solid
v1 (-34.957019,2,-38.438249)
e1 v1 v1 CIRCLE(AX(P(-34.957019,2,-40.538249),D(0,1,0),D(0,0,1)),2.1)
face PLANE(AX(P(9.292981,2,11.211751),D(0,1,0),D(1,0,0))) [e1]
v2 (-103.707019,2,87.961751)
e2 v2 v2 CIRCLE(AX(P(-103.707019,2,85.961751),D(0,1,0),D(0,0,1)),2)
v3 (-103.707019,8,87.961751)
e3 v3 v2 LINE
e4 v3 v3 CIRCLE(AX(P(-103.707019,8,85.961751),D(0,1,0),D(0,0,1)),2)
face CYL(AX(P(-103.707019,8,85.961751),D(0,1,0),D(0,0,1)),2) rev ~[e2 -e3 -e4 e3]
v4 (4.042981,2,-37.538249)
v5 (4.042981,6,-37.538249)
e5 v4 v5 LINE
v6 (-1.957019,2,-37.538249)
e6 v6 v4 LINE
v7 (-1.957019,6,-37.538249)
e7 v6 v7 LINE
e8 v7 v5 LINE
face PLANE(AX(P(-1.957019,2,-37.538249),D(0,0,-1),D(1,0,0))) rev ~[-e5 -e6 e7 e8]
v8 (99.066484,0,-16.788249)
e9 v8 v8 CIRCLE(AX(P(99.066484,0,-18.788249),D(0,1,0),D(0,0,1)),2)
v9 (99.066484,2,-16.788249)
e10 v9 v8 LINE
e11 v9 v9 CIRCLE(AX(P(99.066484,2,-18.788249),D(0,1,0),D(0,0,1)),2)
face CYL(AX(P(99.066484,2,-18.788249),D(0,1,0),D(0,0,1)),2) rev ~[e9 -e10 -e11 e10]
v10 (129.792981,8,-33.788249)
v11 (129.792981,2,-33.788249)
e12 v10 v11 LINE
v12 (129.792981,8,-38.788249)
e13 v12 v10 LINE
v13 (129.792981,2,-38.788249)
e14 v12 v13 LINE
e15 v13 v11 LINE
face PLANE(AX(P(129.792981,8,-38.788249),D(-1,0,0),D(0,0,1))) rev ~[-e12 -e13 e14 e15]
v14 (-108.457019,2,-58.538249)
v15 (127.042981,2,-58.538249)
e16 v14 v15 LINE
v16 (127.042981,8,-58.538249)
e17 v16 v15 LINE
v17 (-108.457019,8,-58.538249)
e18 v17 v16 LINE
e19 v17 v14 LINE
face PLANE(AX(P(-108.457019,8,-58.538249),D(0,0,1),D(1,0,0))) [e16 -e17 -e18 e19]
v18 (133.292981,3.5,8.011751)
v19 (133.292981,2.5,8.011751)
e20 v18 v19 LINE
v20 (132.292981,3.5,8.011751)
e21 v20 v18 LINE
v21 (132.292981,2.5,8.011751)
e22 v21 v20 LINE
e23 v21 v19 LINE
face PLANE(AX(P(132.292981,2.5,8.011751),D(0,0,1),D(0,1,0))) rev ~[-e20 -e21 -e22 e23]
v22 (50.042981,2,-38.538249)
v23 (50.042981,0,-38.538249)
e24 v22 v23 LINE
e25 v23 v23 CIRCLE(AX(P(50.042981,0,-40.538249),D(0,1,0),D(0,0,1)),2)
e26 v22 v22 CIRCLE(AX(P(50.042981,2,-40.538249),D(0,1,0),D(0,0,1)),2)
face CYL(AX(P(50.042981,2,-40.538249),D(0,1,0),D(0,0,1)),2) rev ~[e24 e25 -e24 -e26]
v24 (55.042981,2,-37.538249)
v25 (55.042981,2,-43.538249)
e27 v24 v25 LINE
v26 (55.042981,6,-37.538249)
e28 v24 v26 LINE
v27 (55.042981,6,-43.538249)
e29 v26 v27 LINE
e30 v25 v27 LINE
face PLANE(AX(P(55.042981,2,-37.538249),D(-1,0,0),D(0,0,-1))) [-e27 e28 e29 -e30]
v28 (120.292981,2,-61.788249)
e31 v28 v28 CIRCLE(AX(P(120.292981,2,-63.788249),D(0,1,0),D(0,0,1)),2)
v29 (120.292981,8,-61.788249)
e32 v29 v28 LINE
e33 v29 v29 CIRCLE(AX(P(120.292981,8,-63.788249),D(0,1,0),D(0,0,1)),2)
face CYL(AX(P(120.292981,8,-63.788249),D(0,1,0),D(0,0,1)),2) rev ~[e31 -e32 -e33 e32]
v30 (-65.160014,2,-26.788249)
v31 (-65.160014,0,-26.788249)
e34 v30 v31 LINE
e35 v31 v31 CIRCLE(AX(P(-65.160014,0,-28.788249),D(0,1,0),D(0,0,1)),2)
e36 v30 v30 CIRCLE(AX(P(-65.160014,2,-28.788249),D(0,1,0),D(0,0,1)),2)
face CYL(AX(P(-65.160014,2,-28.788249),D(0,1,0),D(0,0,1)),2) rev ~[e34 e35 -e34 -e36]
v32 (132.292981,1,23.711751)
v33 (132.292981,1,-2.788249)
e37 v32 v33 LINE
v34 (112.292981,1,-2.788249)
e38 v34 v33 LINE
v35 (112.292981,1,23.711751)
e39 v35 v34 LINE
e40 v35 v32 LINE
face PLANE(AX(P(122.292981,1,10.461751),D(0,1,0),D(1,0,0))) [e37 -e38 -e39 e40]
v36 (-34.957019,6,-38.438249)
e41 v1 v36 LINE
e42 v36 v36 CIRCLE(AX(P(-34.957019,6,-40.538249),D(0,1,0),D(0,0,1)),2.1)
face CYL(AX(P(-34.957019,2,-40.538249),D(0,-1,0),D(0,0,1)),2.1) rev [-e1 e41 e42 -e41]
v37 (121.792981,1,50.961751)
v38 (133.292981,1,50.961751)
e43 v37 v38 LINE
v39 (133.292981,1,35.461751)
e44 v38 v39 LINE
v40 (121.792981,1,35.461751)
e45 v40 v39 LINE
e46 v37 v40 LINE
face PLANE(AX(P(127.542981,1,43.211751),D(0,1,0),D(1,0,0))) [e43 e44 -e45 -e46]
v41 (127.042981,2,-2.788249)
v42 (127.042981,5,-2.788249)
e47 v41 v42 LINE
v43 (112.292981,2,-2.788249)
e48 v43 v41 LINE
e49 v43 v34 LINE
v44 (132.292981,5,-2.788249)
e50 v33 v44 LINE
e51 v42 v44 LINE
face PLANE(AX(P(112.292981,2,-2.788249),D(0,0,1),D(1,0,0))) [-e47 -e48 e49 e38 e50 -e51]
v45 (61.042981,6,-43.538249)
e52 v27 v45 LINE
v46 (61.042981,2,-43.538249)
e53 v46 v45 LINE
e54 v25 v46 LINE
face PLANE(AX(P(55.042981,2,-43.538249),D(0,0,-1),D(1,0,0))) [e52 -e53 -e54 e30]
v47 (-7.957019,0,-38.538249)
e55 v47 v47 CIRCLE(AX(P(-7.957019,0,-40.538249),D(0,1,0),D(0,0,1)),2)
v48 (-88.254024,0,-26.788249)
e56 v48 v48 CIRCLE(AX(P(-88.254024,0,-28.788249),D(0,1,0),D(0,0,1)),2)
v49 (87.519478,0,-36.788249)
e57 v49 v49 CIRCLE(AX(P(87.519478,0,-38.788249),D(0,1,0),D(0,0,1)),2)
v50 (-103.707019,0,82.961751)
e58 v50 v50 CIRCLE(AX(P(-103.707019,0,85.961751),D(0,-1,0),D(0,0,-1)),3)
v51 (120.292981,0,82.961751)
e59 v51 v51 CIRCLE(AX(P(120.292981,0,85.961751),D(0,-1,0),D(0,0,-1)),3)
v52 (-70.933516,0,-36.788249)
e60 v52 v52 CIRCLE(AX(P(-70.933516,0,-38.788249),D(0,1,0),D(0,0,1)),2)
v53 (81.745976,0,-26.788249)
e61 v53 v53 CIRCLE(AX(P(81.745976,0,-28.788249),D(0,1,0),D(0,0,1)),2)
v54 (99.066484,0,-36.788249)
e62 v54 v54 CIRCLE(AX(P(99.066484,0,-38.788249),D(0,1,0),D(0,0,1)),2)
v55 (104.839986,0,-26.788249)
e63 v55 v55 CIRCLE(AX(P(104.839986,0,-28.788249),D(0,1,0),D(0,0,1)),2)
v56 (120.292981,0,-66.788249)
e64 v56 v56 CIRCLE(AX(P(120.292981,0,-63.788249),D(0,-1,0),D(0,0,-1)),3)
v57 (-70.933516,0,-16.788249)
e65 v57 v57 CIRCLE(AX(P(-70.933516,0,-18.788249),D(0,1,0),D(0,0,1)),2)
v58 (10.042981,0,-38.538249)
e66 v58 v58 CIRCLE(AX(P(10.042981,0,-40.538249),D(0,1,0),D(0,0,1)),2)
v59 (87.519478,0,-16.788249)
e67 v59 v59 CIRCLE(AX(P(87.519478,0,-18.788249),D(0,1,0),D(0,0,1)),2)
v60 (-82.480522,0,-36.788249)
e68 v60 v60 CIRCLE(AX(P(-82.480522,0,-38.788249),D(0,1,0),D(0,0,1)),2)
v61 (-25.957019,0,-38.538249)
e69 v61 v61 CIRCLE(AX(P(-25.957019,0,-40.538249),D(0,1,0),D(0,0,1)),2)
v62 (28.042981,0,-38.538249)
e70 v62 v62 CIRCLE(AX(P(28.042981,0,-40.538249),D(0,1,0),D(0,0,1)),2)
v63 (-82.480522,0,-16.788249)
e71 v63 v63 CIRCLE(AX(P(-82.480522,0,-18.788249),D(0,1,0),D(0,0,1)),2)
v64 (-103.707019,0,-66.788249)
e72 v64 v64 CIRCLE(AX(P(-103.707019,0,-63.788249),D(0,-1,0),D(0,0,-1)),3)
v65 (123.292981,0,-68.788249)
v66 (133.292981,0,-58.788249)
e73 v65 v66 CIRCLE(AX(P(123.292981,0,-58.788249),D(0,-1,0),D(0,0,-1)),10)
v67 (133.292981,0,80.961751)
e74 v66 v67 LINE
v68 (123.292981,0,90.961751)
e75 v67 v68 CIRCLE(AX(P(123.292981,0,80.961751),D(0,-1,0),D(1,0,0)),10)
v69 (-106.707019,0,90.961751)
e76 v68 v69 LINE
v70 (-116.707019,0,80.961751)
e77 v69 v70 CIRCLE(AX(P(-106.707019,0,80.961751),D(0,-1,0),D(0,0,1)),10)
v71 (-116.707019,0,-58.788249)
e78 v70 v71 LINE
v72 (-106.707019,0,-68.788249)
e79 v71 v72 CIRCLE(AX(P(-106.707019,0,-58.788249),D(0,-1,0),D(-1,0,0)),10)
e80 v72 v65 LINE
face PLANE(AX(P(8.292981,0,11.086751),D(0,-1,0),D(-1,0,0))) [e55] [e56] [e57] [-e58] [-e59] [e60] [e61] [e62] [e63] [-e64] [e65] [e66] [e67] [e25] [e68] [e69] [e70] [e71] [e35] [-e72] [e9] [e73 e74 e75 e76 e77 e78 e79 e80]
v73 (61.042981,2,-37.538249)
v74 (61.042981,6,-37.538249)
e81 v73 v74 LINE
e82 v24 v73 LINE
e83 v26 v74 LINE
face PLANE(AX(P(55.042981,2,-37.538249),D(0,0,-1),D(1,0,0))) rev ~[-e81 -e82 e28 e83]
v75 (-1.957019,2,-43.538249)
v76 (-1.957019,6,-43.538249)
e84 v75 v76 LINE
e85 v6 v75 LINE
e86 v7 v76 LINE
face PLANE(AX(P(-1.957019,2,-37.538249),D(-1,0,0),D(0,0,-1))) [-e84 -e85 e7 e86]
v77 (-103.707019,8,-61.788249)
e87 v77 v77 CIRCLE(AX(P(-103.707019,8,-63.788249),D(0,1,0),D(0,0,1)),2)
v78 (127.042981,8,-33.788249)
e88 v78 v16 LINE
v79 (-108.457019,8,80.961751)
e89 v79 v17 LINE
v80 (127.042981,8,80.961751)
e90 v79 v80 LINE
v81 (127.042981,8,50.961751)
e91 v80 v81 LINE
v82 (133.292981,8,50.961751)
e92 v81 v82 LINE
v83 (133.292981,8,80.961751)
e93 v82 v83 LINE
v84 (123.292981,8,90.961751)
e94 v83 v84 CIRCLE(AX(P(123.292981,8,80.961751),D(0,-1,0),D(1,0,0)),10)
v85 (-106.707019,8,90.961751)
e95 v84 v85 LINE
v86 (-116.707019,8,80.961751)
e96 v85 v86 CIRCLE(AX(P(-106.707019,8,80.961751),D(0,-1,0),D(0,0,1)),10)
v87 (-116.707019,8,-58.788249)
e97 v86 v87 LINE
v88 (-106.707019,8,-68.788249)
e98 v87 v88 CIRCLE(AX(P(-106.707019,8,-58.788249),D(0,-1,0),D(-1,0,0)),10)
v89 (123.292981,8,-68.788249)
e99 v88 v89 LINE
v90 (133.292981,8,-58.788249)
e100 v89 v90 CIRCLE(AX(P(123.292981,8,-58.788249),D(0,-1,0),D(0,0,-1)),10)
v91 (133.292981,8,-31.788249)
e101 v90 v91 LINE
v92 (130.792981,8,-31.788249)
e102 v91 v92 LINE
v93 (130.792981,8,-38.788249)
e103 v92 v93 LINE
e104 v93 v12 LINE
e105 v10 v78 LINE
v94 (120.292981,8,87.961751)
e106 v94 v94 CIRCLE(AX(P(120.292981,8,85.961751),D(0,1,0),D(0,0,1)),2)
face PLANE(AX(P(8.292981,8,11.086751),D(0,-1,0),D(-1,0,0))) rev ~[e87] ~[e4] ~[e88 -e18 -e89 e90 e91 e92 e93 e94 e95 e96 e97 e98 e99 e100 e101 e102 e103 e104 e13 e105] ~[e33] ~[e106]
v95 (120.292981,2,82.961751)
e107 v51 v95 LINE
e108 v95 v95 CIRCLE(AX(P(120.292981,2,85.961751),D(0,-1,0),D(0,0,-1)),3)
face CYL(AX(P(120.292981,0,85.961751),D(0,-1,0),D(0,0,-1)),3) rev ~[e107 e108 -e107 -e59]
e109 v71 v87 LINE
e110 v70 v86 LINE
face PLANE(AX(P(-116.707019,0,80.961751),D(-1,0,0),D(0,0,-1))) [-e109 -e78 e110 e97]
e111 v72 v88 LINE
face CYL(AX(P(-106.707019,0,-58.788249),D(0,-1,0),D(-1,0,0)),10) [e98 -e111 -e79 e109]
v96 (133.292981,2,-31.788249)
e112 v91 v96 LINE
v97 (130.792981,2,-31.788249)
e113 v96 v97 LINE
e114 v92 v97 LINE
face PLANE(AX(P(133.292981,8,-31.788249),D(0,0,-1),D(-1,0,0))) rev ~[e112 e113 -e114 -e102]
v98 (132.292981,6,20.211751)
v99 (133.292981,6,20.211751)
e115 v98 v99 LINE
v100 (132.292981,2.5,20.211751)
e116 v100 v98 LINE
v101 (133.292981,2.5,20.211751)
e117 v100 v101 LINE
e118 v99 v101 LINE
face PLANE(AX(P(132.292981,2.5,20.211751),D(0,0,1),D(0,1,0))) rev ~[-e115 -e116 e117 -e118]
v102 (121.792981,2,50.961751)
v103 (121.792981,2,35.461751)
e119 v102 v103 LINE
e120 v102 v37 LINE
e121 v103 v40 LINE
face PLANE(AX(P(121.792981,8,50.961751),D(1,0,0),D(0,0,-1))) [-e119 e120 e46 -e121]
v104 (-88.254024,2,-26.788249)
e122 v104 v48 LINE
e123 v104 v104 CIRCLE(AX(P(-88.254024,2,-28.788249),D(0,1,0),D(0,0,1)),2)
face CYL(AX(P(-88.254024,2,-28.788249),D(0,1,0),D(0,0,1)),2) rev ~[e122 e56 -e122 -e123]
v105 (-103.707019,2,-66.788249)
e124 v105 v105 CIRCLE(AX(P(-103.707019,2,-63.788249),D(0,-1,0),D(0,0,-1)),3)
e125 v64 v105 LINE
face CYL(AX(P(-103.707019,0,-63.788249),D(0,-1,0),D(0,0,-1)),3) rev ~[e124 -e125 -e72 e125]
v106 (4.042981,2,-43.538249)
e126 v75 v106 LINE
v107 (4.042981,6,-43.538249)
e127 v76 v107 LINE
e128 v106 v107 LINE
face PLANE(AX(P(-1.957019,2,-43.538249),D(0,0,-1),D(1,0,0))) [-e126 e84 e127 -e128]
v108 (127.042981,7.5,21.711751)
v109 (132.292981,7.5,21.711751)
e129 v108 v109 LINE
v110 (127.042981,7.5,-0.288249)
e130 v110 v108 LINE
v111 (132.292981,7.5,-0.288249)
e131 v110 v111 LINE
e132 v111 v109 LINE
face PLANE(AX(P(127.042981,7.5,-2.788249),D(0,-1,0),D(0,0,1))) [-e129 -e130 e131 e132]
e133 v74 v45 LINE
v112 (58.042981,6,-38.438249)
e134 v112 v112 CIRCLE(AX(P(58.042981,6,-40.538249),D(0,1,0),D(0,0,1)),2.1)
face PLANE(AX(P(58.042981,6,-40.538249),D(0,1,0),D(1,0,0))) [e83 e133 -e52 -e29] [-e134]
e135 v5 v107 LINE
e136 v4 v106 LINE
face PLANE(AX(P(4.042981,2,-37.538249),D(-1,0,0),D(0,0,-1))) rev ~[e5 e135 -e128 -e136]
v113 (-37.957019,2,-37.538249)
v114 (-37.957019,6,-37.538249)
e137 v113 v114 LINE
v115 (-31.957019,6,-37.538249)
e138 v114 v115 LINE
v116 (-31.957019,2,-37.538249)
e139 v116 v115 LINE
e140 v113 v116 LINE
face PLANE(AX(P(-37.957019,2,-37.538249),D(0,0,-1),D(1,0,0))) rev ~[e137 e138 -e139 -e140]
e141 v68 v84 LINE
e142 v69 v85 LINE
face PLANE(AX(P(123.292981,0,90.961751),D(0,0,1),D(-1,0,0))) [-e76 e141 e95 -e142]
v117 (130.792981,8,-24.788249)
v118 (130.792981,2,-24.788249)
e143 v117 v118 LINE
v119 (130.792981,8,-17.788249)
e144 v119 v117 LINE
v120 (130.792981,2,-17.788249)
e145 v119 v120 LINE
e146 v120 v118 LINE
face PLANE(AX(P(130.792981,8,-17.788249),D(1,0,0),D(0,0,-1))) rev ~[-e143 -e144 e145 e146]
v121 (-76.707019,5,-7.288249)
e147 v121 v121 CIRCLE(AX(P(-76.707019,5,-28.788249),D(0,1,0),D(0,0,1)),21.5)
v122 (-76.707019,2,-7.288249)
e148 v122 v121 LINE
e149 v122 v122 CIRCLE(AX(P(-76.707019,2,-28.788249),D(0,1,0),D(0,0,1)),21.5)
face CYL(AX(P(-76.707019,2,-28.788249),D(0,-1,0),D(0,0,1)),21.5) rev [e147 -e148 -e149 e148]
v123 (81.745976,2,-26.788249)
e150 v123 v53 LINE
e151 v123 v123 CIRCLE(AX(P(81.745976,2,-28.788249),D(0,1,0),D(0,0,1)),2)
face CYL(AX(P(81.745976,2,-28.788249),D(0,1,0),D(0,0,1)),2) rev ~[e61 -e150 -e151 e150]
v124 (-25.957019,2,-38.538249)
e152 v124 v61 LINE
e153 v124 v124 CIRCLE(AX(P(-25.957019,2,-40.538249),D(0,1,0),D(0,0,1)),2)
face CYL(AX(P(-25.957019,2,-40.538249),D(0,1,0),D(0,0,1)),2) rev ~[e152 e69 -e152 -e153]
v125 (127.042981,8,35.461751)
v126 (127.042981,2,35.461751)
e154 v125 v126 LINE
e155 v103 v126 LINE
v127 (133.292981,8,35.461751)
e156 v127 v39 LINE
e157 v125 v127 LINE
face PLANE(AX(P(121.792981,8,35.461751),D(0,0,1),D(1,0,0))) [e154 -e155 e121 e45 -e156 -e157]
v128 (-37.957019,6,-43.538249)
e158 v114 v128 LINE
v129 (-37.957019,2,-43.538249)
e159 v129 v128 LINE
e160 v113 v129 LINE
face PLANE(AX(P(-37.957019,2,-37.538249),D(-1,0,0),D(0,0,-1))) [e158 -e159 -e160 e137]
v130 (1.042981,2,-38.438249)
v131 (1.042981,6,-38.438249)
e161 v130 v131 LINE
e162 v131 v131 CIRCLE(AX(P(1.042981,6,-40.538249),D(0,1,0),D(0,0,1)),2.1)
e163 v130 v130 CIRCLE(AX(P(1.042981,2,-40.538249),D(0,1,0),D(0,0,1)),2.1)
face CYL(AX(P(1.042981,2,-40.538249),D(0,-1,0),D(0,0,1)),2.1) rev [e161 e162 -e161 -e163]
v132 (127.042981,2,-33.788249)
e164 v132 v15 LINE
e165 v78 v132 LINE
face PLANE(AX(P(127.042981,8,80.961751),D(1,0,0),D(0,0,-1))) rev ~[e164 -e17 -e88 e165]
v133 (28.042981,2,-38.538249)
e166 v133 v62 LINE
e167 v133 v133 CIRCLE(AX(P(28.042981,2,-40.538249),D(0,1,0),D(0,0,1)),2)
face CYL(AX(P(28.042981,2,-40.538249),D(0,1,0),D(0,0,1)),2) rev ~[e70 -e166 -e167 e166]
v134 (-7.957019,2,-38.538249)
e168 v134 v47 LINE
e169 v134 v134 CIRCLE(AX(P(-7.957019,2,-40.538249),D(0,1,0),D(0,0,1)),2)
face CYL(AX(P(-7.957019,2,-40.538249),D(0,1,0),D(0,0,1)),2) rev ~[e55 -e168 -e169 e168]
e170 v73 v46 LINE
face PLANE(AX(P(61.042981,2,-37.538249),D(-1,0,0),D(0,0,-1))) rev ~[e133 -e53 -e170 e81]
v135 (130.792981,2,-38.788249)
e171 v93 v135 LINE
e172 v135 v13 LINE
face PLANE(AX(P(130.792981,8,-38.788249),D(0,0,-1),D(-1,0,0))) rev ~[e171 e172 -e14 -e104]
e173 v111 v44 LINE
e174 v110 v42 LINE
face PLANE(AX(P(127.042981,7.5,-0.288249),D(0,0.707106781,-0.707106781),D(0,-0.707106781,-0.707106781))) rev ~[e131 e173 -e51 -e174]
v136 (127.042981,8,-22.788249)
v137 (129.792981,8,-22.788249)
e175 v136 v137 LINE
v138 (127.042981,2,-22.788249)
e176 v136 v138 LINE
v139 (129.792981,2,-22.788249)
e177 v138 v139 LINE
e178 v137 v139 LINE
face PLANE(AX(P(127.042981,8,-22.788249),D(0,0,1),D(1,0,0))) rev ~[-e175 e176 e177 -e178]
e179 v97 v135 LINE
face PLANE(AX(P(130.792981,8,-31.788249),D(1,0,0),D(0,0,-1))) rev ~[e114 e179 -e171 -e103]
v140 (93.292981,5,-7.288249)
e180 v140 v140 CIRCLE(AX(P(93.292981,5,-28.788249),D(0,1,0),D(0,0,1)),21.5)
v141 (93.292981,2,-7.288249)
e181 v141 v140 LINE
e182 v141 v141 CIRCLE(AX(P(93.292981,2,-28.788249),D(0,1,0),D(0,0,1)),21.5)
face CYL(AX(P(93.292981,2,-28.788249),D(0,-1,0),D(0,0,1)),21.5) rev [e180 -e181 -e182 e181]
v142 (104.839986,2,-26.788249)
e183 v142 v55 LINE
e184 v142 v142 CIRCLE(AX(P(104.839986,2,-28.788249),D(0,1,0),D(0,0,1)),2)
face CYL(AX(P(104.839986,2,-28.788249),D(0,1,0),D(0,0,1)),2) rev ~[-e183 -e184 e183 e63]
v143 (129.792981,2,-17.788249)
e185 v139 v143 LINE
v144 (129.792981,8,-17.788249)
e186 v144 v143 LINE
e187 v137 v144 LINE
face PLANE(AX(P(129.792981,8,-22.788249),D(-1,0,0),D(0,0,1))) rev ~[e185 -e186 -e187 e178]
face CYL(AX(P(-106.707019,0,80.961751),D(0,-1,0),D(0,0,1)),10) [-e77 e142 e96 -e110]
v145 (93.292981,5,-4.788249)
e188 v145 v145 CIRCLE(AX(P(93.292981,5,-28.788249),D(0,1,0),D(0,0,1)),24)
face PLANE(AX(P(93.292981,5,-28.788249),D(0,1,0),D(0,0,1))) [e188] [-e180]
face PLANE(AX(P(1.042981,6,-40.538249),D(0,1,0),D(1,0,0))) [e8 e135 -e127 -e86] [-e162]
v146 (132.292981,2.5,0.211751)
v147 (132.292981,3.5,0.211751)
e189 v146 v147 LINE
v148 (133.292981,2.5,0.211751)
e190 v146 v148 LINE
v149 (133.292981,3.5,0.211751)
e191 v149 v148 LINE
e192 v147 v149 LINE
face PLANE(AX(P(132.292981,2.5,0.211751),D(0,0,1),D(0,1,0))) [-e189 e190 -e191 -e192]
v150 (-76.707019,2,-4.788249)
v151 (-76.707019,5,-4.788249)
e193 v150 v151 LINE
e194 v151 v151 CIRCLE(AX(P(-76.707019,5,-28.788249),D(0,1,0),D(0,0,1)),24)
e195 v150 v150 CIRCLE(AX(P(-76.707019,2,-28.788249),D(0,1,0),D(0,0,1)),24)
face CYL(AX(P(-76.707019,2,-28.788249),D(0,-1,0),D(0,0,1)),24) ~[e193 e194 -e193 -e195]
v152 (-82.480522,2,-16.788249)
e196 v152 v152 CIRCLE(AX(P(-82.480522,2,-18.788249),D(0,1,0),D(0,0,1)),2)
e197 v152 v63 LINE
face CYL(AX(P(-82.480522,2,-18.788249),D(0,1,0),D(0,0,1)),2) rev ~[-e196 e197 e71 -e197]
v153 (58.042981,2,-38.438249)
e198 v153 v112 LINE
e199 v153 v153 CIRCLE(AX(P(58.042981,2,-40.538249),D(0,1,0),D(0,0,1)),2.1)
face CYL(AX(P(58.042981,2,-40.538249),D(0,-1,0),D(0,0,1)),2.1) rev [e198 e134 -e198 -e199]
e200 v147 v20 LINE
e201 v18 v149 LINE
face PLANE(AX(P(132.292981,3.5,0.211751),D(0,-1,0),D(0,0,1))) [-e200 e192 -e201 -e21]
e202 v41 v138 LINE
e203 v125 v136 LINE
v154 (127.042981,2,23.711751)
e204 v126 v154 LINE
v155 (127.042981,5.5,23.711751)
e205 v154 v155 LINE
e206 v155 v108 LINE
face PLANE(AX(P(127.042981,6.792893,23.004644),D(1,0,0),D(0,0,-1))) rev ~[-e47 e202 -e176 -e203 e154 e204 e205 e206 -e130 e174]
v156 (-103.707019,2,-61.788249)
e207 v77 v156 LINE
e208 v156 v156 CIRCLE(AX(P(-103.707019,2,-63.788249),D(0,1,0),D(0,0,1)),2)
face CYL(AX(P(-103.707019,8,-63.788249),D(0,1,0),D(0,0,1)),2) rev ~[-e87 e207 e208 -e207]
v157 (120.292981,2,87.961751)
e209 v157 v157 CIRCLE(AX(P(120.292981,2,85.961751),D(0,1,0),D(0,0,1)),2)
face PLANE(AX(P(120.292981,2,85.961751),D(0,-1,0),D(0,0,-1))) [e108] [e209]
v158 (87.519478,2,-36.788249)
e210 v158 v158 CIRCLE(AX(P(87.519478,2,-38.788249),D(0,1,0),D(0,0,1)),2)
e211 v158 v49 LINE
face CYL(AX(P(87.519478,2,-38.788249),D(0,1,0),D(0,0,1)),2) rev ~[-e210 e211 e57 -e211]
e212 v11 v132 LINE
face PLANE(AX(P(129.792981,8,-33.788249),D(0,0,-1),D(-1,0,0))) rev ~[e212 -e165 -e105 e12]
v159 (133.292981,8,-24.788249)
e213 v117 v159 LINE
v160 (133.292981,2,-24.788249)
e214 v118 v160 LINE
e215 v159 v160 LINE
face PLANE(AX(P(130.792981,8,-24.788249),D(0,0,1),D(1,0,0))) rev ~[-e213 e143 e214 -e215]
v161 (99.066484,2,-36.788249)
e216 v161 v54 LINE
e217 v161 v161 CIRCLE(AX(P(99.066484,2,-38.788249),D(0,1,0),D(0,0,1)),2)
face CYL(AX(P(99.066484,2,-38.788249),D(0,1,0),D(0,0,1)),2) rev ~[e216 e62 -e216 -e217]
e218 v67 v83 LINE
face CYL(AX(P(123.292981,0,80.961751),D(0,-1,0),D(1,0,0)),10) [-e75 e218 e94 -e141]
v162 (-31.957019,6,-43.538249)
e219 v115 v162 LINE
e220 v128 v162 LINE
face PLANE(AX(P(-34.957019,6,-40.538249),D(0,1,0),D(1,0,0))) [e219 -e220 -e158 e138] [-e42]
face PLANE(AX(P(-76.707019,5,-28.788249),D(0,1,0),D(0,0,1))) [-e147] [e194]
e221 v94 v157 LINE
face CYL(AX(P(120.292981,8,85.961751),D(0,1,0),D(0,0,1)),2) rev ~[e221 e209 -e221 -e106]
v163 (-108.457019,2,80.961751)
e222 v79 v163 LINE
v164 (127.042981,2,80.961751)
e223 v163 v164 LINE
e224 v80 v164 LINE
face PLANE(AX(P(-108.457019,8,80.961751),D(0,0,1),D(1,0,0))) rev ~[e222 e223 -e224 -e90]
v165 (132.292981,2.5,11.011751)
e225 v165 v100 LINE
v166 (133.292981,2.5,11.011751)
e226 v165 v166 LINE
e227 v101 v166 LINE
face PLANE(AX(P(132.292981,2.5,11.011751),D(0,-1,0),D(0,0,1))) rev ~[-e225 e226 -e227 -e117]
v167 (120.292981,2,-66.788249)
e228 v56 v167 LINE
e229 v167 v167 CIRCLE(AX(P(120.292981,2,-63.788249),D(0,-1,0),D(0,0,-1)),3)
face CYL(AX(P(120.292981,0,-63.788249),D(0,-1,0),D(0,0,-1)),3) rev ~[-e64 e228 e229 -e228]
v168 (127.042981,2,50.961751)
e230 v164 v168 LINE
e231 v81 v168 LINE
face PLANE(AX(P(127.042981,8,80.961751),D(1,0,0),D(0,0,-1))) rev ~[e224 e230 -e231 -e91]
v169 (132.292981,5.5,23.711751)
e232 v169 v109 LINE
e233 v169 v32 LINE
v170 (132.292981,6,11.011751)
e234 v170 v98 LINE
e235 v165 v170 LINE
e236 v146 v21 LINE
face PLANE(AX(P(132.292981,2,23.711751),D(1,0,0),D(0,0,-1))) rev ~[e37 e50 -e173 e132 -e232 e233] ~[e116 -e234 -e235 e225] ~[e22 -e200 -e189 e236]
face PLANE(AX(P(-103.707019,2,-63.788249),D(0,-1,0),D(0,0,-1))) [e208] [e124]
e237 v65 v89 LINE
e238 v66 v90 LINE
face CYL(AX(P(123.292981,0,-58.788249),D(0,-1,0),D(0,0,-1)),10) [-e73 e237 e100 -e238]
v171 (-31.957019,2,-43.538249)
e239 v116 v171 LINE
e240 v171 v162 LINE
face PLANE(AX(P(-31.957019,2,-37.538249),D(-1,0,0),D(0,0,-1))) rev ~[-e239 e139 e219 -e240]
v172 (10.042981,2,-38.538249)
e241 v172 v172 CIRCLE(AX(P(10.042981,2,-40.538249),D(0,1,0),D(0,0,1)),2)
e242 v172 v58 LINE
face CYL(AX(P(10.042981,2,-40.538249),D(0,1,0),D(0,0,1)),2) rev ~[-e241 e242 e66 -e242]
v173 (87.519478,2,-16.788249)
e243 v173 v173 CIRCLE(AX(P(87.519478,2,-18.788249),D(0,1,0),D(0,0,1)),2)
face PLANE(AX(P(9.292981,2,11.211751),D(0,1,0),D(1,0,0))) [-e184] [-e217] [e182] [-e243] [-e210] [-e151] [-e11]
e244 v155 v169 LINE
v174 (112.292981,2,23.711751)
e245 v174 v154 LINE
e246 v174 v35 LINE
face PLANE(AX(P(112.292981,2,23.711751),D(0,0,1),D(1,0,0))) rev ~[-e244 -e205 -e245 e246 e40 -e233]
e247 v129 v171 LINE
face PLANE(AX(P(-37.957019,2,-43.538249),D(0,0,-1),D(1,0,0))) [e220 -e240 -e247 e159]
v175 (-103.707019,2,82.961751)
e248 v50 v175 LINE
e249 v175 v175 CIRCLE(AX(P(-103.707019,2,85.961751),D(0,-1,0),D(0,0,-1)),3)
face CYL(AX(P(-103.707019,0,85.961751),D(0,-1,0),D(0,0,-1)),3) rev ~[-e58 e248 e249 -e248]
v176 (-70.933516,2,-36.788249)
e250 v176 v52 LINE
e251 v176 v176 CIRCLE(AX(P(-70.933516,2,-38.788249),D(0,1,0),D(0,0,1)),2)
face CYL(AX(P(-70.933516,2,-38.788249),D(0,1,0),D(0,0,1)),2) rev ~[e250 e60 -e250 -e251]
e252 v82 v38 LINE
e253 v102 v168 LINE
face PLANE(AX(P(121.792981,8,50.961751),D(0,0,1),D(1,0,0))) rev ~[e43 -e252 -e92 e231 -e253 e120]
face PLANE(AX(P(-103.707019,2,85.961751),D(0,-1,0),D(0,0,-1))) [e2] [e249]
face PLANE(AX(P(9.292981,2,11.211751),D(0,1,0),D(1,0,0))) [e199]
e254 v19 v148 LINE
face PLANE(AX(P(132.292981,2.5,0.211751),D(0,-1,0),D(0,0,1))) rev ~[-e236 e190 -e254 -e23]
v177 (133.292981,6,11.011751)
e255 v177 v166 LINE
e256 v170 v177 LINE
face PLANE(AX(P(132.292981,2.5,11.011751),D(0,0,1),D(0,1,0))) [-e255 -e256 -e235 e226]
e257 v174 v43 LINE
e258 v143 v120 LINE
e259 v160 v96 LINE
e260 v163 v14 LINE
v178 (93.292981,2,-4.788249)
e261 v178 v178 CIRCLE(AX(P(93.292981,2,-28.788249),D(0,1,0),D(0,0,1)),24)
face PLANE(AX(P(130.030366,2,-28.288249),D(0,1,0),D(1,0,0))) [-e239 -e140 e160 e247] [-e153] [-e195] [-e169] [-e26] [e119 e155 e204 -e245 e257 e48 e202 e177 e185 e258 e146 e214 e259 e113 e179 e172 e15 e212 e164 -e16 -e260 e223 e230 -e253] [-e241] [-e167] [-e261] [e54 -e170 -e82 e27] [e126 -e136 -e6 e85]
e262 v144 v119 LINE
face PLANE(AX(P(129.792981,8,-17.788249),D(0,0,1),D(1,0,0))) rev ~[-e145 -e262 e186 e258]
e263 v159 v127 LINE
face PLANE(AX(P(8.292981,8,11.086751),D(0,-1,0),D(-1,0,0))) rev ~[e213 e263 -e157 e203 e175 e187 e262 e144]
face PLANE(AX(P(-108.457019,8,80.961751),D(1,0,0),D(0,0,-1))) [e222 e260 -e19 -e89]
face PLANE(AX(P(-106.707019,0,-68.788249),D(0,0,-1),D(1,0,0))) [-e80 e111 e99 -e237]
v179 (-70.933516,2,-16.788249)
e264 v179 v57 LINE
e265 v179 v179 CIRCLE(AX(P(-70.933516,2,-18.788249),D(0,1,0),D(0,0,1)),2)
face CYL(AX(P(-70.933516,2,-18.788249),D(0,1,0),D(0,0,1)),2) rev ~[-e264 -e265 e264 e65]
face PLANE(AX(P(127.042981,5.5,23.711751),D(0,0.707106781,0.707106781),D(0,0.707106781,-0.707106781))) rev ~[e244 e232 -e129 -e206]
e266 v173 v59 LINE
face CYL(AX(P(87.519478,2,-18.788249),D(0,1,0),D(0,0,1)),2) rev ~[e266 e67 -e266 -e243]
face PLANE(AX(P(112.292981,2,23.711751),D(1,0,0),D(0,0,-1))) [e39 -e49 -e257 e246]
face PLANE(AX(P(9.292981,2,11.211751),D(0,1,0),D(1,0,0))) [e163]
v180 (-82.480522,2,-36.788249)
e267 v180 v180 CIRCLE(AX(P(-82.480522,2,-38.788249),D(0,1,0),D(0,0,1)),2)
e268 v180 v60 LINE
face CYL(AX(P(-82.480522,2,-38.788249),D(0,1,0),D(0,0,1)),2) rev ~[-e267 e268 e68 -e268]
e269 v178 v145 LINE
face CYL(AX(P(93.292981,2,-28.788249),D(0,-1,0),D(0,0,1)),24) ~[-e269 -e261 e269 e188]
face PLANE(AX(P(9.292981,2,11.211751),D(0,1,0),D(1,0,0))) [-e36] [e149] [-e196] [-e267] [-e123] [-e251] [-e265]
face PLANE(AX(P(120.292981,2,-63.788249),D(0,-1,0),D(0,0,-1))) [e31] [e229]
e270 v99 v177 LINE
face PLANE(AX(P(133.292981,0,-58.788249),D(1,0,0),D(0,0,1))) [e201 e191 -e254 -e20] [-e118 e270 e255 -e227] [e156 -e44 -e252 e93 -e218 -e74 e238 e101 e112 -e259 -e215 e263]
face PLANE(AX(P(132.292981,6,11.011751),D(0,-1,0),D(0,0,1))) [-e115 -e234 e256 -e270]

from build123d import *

# Parameters (mm, degrees)
EXTRUDE_1_DEPTH      = 8
SKETCH_2_R           = 2
CUT_EXTRUDE_1_DEPTH  = 8
SKETCH_3_W           = 235.5
SKETCH_3_H           = 139.5
CUT_EXTRUDE_2_DEPTH  = 6
SKETCH_4_R           = 2
CUT_EXTRUDE_3_DEPTH  = 6
SKETCH_6_W           = 6
SKETCH_6_H           = 6
SKETCH_6_R           = 2.1
EXTRUDE_2_DEPTH      = 4
SKETCH_7_R           = 24
SKETCH_7_R_2         = 21.5
EXTRUDE_3_DEPTH      = 3
SKETCH_8_R           = 2
CUT_EXTRUDE_4_DEPTH  = 3
SKETCH_9_W           = 11.5
SKETCH_9_H           = 15.5
CUT_EXTRUDE_5_DEPTH  = 7
CUT_EXTRUDE_6_DEPTH  = 6
SKETCH_11_W          = 20
SKETCH_11_H          = 26.5
CUT_EXTRUDE_8_DEPTH  = 1
SKETCH_13_W          = 26.5
SKETCH_13_H          = 5.5
CUT_EXTRUDE_9_DEPTH  = 5.25
SKETCH_14_W          = 9.2
SKETCH_14_H          = 3.5
SKETCH_14_W_2        = 7.8
SKETCH_14_H_2        = 1
CUT_EXTRUDE_10_DEPTH = 5.25
EXTRUDE_5_DEPTH      = 5.25
EXTRUDE_6_DEPTH      = 5.25
SKETCH_17_R          = 3
CUT_EXTRUDE_11_DEPTH = 2


with BuildPart() as part:
    # 草图1 → 凸台-拉伸1 (new body)
    with BuildSketch(Plane(origin=(0, 0, 0), x_dir=(1, 0, 0), z_dir=(0, 1, 0))):
        with BuildLine():
            Line((-106.707018927, 68.788249211), (123.292981073, 68.788249211))
            ThreePointArc((123.292981073, 68.788249211), (130.364048884, 65.859317023), (133.292981073, 58.788249211))
            Line((133.292981073, 58.788249211), (133.292981073, -80.961750789))
            ThreePointArc((133.292981073, -80.961750789), (130.364048884, -88.032818601), (123.292981073, -90.961750789))
            Line((123.292981073, -90.961750789), (-106.707018927, -90.961750789))
            ThreePointArc((-106.707018927, -90.961750789), (-113.778086739, -88.032818601), (-116.707018927, -80.961750789))
            Line((-116.707018927, -80.961750789), (-116.707018927, 58.788249211))
            ThreePointArc((-116.707018927, 58.788249211), (-113.778086739, 65.859317023), (-106.707018927, 68.788249211))
        make_face()
    extrude(amount=EXTRUDE_1_DEPTH)

    # 草图2 → 切除-拉伸1 (cut)
    with BuildSketch(Plane(origin=(0, 8, 0), x_dir=(1, 0, 0), z_dir=(0, 1, 0))):
        with Locations(Location((-103.707018927, 63.788249211, 0), (0, 0, 270))):
            Circle(SKETCH_2_R)
        with Locations(Location((-103.707018927, -85.961750789, 0), (0, 0, 270))):
            Circle(SKETCH_2_R)
        with Locations(Location((120.292981073, -85.961750789, 0), (0, 0, 270))):
            Circle(SKETCH_2_R)
        with Locations(Location((120.292981073, 63.788249211, 0), (0, 0, 270))):
            Circle(SKETCH_2_R)
    extrude(amount=-CUT_EXTRUDE_1_DEPTH, mode=Mode.SUBTRACT)

    # 草图3 → 切除-拉伸2 (cut)
    with BuildSketch(Plane(origin=(0, 8, 0), x_dir=(1, 0, 0), z_dir=(0, 1, 0))):
        with Locations((9.292981073, -11.211750789)):
            Rectangle(SKETCH_3_W, SKETCH_3_H)
    extrude(amount=-CUT_EXTRUDE_2_DEPTH, mode=Mode.SUBTRACT)

    # 草图4 → 切除-拉伸3 (cut)
    with BuildSketch(Plane(origin=(0, 2, 0), x_dir=(1, 0, 0), z_dir=(0, 1, 0))):
        with Locations(Location((-25.957018927, 40.538249211, 0), (0, 0, 270))):
            Circle(SKETCH_4_R)
        with Locations(Location((-7.957018927, 40.538249211, 0), (0, 0, 270))):
            Circle(SKETCH_4_R)
        with Locations(Location((10.042981073, 40.538249211, 0), (0, 0, 270))):
            Circle(SKETCH_4_R)
        with Locations(Location((28.042981073, 40.538249211, 0), (0, 0, 270))):
            Circle(SKETCH_4_R)
        with Locations(Location((50.042981073, 40.538249211, 0), (0, 0, 270))):
            Circle(SKETCH_4_R)
    extrude(amount=-CUT_EXTRUDE_3_DEPTH, mode=Mode.SUBTRACT)

    # 草图6 → 凸台-拉伸2 (add)
    # profile 1 of 3: a face of its own
    with BuildSketch(Plane(origin=(0, 2, 0), x_dir=(1, 0, 0), z_dir=(0, 1, 0))):
        with Locations((58.042981073, 40.538249211)):
            Rectangle(SKETCH_6_W, SKETCH_6_H)
        with Locations(Location((58.042981073, 40.538249211, 0), (0, 0, 270))):
            Circle(SKETCH_6_R, mode=Mode.SUBTRACT)
    # profile 2 of 3: a face of its own
    with BuildSketch(Plane(origin=(0, 2, 0), x_dir=(1, 0, 0), z_dir=(0, 1, 0))):
        with Locations((1.042981073, 40.538249211)):
            Rectangle(SKETCH_6_W, SKETCH_6_H)
        with Locations(Location((1.042981073, 40.538249211, 0), (0, 0, 270))):
            Circle(SKETCH_6_R, mode=Mode.SUBTRACT)
    # profile 3 of 3: a face of its own
    with BuildSketch(Plane(origin=(0, 2, 0), x_dir=(1, 0, 0), z_dir=(0, 1, 0))):
        with Locations((-34.957018927, 40.538249211)):
            Rectangle(SKETCH_6_W, SKETCH_6_H)
        with Locations(Location((-34.957018927, 40.538249211, 0), (0, 0, 270))):
            Circle(SKETCH_6_R, mode=Mode.SUBTRACT)
    extrude(amount=EXTRUDE_2_DEPTH)

    # 草图7 → 凸台-拉伸3 (add)
    # profile 1 of 2: a face of its own
    with BuildSketch(Plane(origin=(0, 2, 0), x_dir=(1, 0, 0), z_dir=(0, 1, 0))):
        with Locations(Location((-76.707018927, 28.788249211, 0), (0, 0, 270))):
            Circle(SKETCH_7_R)
        with Locations(Location((-76.707018927, 28.788249211, 0), (0, 0, 270))):
            Circle(SKETCH_7_R_2, mode=Mode.SUBTRACT)
    # profile 2 of 2: a face of its own
    with BuildSketch(Plane(origin=(0, 2, 0), x_dir=(1, 0, 0), z_dir=(0, 1, 0))):
        with Locations(Location((93.292981073, 28.788249211, 0), (0, 0, 270))):
            Circle(SKETCH_7_R)
        with Locations(Location((93.292981073, 28.788249211, 0), (0, 0, 270))):
            Circle(SKETCH_7_R_2, mode=Mode.SUBTRACT)
    extrude(amount=EXTRUDE_3_DEPTH)

    # 草图8 → 切除-拉伸4 (cut)
    with BuildSketch(Plane(origin=(0, 2, 0), x_dir=(1, 0, 0), z_dir=(0, 1, 0))):
        with Locations(Location((-82.480521619, 38.788249211, 0), (0, 0, 270))):
            Circle(SKETCH_8_R)
        with Locations(Location((-70.933516236, 38.788249211, 0), (0, 0, 270))):
            Circle(SKETCH_8_R)
        with Locations(Location((-65.160013544, 28.788249211, 0), (0, 0, 270))):
            Circle(SKETCH_8_R)
        with Locations(Location((-70.933516236, 18.788249211, 0), (0, 0, 270))):
            Circle(SKETCH_8_R)
        with Locations(Location((-82.480521619, 18.788249211, 0), (0, 0, 270))):
            Circle(SKETCH_8_R)
        with Locations(Location((-88.254024311, 28.788249211, 0), (0, 0, 270))):
            Circle(SKETCH_8_R)
        with Locations(Location((87.519478381, 38.788249211, 0), (0, 0, 270))):
            Circle(SKETCH_8_R)
        with Locations(Location((99.066483764, 38.788249211, 0), (0, 0, 270))):
            Circle(SKETCH_8_R)
        with Locations(Location((104.839986456, 28.788249211, 0), (0, 0, 270))):
            Circle(SKETCH_8_R)
        with Locations(Location((99.066483764, 18.788249211, 0), (0, 0, 270))):
            Circle(SKETCH_8_R)
        with Locations(Location((87.519478381, 18.788249211, 0), (0, 0, 270))):
            Circle(SKETCH_8_R)
        with Locations(Location((81.745975689, 28.788249211, 0), (0, 0, 270))):
            Circle(SKETCH_8_R)
    extrude(amount=-CUT_EXTRUDE_4_DEPTH, mode=Mode.SUBTRACT)

    # 草图9 → 切除-拉伸5 (cut)
    with BuildSketch(Plane(origin=(0, 8, 0), x_dir=(1, 0, 0), z_dir=(0, 1, 0))):
        with Locations((127.542981073, -43.211750789)):
            Rectangle(SKETCH_9_W, SKETCH_9_H)
    extrude(amount=-CUT_EXTRUDE_5_DEPTH, mode=Mode.SUBTRACT)

    # 草图10 → 切除-拉伸6 (cut)
    with BuildSketch(Plane(origin=(0, 8, 0), x_dir=(1, 0, 0), z_dir=(0, 1, 0))):
        Polygon((127.042981073, 33.788249211), (127.042981073, 22.788249211), (129.792981073, 22.788249211), (129.792981073, 17.788249211), (130.792981073, 17.788249211), (130.792981073, 24.788249211), (133.292981073, 24.788249211), (133.292981073, 31.788249211), (130.792981073, 31.788249211), (130.792981073, 38.788249211), (129.792981073, 38.788249211), (129.792981073, 33.788249211), align=None)
    extrude(amount=-CUT_EXTRUDE_6_DEPTH, mode=Mode.SUBTRACT)

    # 草图11 → 切除-拉伸8 (cut)
    with BuildSketch(Plane(origin=(0, 2, 0), x_dir=(1, 0, 0), z_dir=(0, 1, 0))):
        with Locations((122.292981073, -10.461750789)):
            Rectangle(SKETCH_11_W, SKETCH_11_H)
    extrude(amount=-CUT_EXTRUDE_8_DEPTH, mode=Mode.SUBTRACT)

    # 草图13 → 切除-拉伸9 (cut)
    with BuildSketch(Plane.ZY.offset(-127.042981073)):
        with Locations((10.461750789, 4.75)):
            Rectangle(SKETCH_13_W, SKETCH_13_H)
    extrude(amount=-CUT_EXTRUDE_9_DEPTH, mode=Mode.SUBTRACT)

    # 草图14 → 切除-拉伸10 (cut)
    with BuildSketch(Plane.ZY.offset(-132.292981073)):
        with Locations((15.611750789, 4.25)):
            Rectangle(SKETCH_14_W, SKETCH_14_H)
        with Locations((4.111750789, 3)):
            Rectangle(SKETCH_14_W_2, SKETCH_14_H_2)
    extrude(amount=-CUT_EXTRUDE_10_DEPTH, mode=Mode.SUBTRACT)

    # 草图15 → 凸台-拉伸5 (add)
    with BuildSketch(Plane.ZY.offset(-127.042981073)):
        Polygon((-2.788249211, 7.5), (-0.288249211, 7.5), (-2.788249211, 5), align=None)
    extrude(amount=-EXTRUDE_5_DEPTH)

    # 草图16 → 凸台-拉伸6 (add)
    with BuildSketch(Plane.ZY.offset(-127.042981073)):
        Polygon((23.711750789, 7.5), (23.711750789, 5.5), (21.711750789, 7.5), align=None)
    extrude(amount=-EXTRUDE_6_DEPTH)

    # 草图17 → 切除-拉伸11 (cut)
    with BuildSketch(Plane.XZ):
        with Locations(Location((-103.707018927, 85.961750789, 0), (0, 0, 270))):
            Circle(SKETCH_17_R)
        with Locations(Location((120.292981073, 85.961750789, 0), (0, 0, 270))):
            Circle(SKETCH_17_R)
        with Locations(Location((120.292981073, -63.788249211, 0), (0, 0, 270))):
            Circle(SKETCH_17_R)
        with Locations(Location((-103.707018927, -63.788249211, 0), (0, 0, 270))):
            Circle(SKETCH_17_R)
    extrude(amount=-CUT_EXTRUDE_11_DEPTH, mode=Mode.SUBTRACT)


solid = part.part
